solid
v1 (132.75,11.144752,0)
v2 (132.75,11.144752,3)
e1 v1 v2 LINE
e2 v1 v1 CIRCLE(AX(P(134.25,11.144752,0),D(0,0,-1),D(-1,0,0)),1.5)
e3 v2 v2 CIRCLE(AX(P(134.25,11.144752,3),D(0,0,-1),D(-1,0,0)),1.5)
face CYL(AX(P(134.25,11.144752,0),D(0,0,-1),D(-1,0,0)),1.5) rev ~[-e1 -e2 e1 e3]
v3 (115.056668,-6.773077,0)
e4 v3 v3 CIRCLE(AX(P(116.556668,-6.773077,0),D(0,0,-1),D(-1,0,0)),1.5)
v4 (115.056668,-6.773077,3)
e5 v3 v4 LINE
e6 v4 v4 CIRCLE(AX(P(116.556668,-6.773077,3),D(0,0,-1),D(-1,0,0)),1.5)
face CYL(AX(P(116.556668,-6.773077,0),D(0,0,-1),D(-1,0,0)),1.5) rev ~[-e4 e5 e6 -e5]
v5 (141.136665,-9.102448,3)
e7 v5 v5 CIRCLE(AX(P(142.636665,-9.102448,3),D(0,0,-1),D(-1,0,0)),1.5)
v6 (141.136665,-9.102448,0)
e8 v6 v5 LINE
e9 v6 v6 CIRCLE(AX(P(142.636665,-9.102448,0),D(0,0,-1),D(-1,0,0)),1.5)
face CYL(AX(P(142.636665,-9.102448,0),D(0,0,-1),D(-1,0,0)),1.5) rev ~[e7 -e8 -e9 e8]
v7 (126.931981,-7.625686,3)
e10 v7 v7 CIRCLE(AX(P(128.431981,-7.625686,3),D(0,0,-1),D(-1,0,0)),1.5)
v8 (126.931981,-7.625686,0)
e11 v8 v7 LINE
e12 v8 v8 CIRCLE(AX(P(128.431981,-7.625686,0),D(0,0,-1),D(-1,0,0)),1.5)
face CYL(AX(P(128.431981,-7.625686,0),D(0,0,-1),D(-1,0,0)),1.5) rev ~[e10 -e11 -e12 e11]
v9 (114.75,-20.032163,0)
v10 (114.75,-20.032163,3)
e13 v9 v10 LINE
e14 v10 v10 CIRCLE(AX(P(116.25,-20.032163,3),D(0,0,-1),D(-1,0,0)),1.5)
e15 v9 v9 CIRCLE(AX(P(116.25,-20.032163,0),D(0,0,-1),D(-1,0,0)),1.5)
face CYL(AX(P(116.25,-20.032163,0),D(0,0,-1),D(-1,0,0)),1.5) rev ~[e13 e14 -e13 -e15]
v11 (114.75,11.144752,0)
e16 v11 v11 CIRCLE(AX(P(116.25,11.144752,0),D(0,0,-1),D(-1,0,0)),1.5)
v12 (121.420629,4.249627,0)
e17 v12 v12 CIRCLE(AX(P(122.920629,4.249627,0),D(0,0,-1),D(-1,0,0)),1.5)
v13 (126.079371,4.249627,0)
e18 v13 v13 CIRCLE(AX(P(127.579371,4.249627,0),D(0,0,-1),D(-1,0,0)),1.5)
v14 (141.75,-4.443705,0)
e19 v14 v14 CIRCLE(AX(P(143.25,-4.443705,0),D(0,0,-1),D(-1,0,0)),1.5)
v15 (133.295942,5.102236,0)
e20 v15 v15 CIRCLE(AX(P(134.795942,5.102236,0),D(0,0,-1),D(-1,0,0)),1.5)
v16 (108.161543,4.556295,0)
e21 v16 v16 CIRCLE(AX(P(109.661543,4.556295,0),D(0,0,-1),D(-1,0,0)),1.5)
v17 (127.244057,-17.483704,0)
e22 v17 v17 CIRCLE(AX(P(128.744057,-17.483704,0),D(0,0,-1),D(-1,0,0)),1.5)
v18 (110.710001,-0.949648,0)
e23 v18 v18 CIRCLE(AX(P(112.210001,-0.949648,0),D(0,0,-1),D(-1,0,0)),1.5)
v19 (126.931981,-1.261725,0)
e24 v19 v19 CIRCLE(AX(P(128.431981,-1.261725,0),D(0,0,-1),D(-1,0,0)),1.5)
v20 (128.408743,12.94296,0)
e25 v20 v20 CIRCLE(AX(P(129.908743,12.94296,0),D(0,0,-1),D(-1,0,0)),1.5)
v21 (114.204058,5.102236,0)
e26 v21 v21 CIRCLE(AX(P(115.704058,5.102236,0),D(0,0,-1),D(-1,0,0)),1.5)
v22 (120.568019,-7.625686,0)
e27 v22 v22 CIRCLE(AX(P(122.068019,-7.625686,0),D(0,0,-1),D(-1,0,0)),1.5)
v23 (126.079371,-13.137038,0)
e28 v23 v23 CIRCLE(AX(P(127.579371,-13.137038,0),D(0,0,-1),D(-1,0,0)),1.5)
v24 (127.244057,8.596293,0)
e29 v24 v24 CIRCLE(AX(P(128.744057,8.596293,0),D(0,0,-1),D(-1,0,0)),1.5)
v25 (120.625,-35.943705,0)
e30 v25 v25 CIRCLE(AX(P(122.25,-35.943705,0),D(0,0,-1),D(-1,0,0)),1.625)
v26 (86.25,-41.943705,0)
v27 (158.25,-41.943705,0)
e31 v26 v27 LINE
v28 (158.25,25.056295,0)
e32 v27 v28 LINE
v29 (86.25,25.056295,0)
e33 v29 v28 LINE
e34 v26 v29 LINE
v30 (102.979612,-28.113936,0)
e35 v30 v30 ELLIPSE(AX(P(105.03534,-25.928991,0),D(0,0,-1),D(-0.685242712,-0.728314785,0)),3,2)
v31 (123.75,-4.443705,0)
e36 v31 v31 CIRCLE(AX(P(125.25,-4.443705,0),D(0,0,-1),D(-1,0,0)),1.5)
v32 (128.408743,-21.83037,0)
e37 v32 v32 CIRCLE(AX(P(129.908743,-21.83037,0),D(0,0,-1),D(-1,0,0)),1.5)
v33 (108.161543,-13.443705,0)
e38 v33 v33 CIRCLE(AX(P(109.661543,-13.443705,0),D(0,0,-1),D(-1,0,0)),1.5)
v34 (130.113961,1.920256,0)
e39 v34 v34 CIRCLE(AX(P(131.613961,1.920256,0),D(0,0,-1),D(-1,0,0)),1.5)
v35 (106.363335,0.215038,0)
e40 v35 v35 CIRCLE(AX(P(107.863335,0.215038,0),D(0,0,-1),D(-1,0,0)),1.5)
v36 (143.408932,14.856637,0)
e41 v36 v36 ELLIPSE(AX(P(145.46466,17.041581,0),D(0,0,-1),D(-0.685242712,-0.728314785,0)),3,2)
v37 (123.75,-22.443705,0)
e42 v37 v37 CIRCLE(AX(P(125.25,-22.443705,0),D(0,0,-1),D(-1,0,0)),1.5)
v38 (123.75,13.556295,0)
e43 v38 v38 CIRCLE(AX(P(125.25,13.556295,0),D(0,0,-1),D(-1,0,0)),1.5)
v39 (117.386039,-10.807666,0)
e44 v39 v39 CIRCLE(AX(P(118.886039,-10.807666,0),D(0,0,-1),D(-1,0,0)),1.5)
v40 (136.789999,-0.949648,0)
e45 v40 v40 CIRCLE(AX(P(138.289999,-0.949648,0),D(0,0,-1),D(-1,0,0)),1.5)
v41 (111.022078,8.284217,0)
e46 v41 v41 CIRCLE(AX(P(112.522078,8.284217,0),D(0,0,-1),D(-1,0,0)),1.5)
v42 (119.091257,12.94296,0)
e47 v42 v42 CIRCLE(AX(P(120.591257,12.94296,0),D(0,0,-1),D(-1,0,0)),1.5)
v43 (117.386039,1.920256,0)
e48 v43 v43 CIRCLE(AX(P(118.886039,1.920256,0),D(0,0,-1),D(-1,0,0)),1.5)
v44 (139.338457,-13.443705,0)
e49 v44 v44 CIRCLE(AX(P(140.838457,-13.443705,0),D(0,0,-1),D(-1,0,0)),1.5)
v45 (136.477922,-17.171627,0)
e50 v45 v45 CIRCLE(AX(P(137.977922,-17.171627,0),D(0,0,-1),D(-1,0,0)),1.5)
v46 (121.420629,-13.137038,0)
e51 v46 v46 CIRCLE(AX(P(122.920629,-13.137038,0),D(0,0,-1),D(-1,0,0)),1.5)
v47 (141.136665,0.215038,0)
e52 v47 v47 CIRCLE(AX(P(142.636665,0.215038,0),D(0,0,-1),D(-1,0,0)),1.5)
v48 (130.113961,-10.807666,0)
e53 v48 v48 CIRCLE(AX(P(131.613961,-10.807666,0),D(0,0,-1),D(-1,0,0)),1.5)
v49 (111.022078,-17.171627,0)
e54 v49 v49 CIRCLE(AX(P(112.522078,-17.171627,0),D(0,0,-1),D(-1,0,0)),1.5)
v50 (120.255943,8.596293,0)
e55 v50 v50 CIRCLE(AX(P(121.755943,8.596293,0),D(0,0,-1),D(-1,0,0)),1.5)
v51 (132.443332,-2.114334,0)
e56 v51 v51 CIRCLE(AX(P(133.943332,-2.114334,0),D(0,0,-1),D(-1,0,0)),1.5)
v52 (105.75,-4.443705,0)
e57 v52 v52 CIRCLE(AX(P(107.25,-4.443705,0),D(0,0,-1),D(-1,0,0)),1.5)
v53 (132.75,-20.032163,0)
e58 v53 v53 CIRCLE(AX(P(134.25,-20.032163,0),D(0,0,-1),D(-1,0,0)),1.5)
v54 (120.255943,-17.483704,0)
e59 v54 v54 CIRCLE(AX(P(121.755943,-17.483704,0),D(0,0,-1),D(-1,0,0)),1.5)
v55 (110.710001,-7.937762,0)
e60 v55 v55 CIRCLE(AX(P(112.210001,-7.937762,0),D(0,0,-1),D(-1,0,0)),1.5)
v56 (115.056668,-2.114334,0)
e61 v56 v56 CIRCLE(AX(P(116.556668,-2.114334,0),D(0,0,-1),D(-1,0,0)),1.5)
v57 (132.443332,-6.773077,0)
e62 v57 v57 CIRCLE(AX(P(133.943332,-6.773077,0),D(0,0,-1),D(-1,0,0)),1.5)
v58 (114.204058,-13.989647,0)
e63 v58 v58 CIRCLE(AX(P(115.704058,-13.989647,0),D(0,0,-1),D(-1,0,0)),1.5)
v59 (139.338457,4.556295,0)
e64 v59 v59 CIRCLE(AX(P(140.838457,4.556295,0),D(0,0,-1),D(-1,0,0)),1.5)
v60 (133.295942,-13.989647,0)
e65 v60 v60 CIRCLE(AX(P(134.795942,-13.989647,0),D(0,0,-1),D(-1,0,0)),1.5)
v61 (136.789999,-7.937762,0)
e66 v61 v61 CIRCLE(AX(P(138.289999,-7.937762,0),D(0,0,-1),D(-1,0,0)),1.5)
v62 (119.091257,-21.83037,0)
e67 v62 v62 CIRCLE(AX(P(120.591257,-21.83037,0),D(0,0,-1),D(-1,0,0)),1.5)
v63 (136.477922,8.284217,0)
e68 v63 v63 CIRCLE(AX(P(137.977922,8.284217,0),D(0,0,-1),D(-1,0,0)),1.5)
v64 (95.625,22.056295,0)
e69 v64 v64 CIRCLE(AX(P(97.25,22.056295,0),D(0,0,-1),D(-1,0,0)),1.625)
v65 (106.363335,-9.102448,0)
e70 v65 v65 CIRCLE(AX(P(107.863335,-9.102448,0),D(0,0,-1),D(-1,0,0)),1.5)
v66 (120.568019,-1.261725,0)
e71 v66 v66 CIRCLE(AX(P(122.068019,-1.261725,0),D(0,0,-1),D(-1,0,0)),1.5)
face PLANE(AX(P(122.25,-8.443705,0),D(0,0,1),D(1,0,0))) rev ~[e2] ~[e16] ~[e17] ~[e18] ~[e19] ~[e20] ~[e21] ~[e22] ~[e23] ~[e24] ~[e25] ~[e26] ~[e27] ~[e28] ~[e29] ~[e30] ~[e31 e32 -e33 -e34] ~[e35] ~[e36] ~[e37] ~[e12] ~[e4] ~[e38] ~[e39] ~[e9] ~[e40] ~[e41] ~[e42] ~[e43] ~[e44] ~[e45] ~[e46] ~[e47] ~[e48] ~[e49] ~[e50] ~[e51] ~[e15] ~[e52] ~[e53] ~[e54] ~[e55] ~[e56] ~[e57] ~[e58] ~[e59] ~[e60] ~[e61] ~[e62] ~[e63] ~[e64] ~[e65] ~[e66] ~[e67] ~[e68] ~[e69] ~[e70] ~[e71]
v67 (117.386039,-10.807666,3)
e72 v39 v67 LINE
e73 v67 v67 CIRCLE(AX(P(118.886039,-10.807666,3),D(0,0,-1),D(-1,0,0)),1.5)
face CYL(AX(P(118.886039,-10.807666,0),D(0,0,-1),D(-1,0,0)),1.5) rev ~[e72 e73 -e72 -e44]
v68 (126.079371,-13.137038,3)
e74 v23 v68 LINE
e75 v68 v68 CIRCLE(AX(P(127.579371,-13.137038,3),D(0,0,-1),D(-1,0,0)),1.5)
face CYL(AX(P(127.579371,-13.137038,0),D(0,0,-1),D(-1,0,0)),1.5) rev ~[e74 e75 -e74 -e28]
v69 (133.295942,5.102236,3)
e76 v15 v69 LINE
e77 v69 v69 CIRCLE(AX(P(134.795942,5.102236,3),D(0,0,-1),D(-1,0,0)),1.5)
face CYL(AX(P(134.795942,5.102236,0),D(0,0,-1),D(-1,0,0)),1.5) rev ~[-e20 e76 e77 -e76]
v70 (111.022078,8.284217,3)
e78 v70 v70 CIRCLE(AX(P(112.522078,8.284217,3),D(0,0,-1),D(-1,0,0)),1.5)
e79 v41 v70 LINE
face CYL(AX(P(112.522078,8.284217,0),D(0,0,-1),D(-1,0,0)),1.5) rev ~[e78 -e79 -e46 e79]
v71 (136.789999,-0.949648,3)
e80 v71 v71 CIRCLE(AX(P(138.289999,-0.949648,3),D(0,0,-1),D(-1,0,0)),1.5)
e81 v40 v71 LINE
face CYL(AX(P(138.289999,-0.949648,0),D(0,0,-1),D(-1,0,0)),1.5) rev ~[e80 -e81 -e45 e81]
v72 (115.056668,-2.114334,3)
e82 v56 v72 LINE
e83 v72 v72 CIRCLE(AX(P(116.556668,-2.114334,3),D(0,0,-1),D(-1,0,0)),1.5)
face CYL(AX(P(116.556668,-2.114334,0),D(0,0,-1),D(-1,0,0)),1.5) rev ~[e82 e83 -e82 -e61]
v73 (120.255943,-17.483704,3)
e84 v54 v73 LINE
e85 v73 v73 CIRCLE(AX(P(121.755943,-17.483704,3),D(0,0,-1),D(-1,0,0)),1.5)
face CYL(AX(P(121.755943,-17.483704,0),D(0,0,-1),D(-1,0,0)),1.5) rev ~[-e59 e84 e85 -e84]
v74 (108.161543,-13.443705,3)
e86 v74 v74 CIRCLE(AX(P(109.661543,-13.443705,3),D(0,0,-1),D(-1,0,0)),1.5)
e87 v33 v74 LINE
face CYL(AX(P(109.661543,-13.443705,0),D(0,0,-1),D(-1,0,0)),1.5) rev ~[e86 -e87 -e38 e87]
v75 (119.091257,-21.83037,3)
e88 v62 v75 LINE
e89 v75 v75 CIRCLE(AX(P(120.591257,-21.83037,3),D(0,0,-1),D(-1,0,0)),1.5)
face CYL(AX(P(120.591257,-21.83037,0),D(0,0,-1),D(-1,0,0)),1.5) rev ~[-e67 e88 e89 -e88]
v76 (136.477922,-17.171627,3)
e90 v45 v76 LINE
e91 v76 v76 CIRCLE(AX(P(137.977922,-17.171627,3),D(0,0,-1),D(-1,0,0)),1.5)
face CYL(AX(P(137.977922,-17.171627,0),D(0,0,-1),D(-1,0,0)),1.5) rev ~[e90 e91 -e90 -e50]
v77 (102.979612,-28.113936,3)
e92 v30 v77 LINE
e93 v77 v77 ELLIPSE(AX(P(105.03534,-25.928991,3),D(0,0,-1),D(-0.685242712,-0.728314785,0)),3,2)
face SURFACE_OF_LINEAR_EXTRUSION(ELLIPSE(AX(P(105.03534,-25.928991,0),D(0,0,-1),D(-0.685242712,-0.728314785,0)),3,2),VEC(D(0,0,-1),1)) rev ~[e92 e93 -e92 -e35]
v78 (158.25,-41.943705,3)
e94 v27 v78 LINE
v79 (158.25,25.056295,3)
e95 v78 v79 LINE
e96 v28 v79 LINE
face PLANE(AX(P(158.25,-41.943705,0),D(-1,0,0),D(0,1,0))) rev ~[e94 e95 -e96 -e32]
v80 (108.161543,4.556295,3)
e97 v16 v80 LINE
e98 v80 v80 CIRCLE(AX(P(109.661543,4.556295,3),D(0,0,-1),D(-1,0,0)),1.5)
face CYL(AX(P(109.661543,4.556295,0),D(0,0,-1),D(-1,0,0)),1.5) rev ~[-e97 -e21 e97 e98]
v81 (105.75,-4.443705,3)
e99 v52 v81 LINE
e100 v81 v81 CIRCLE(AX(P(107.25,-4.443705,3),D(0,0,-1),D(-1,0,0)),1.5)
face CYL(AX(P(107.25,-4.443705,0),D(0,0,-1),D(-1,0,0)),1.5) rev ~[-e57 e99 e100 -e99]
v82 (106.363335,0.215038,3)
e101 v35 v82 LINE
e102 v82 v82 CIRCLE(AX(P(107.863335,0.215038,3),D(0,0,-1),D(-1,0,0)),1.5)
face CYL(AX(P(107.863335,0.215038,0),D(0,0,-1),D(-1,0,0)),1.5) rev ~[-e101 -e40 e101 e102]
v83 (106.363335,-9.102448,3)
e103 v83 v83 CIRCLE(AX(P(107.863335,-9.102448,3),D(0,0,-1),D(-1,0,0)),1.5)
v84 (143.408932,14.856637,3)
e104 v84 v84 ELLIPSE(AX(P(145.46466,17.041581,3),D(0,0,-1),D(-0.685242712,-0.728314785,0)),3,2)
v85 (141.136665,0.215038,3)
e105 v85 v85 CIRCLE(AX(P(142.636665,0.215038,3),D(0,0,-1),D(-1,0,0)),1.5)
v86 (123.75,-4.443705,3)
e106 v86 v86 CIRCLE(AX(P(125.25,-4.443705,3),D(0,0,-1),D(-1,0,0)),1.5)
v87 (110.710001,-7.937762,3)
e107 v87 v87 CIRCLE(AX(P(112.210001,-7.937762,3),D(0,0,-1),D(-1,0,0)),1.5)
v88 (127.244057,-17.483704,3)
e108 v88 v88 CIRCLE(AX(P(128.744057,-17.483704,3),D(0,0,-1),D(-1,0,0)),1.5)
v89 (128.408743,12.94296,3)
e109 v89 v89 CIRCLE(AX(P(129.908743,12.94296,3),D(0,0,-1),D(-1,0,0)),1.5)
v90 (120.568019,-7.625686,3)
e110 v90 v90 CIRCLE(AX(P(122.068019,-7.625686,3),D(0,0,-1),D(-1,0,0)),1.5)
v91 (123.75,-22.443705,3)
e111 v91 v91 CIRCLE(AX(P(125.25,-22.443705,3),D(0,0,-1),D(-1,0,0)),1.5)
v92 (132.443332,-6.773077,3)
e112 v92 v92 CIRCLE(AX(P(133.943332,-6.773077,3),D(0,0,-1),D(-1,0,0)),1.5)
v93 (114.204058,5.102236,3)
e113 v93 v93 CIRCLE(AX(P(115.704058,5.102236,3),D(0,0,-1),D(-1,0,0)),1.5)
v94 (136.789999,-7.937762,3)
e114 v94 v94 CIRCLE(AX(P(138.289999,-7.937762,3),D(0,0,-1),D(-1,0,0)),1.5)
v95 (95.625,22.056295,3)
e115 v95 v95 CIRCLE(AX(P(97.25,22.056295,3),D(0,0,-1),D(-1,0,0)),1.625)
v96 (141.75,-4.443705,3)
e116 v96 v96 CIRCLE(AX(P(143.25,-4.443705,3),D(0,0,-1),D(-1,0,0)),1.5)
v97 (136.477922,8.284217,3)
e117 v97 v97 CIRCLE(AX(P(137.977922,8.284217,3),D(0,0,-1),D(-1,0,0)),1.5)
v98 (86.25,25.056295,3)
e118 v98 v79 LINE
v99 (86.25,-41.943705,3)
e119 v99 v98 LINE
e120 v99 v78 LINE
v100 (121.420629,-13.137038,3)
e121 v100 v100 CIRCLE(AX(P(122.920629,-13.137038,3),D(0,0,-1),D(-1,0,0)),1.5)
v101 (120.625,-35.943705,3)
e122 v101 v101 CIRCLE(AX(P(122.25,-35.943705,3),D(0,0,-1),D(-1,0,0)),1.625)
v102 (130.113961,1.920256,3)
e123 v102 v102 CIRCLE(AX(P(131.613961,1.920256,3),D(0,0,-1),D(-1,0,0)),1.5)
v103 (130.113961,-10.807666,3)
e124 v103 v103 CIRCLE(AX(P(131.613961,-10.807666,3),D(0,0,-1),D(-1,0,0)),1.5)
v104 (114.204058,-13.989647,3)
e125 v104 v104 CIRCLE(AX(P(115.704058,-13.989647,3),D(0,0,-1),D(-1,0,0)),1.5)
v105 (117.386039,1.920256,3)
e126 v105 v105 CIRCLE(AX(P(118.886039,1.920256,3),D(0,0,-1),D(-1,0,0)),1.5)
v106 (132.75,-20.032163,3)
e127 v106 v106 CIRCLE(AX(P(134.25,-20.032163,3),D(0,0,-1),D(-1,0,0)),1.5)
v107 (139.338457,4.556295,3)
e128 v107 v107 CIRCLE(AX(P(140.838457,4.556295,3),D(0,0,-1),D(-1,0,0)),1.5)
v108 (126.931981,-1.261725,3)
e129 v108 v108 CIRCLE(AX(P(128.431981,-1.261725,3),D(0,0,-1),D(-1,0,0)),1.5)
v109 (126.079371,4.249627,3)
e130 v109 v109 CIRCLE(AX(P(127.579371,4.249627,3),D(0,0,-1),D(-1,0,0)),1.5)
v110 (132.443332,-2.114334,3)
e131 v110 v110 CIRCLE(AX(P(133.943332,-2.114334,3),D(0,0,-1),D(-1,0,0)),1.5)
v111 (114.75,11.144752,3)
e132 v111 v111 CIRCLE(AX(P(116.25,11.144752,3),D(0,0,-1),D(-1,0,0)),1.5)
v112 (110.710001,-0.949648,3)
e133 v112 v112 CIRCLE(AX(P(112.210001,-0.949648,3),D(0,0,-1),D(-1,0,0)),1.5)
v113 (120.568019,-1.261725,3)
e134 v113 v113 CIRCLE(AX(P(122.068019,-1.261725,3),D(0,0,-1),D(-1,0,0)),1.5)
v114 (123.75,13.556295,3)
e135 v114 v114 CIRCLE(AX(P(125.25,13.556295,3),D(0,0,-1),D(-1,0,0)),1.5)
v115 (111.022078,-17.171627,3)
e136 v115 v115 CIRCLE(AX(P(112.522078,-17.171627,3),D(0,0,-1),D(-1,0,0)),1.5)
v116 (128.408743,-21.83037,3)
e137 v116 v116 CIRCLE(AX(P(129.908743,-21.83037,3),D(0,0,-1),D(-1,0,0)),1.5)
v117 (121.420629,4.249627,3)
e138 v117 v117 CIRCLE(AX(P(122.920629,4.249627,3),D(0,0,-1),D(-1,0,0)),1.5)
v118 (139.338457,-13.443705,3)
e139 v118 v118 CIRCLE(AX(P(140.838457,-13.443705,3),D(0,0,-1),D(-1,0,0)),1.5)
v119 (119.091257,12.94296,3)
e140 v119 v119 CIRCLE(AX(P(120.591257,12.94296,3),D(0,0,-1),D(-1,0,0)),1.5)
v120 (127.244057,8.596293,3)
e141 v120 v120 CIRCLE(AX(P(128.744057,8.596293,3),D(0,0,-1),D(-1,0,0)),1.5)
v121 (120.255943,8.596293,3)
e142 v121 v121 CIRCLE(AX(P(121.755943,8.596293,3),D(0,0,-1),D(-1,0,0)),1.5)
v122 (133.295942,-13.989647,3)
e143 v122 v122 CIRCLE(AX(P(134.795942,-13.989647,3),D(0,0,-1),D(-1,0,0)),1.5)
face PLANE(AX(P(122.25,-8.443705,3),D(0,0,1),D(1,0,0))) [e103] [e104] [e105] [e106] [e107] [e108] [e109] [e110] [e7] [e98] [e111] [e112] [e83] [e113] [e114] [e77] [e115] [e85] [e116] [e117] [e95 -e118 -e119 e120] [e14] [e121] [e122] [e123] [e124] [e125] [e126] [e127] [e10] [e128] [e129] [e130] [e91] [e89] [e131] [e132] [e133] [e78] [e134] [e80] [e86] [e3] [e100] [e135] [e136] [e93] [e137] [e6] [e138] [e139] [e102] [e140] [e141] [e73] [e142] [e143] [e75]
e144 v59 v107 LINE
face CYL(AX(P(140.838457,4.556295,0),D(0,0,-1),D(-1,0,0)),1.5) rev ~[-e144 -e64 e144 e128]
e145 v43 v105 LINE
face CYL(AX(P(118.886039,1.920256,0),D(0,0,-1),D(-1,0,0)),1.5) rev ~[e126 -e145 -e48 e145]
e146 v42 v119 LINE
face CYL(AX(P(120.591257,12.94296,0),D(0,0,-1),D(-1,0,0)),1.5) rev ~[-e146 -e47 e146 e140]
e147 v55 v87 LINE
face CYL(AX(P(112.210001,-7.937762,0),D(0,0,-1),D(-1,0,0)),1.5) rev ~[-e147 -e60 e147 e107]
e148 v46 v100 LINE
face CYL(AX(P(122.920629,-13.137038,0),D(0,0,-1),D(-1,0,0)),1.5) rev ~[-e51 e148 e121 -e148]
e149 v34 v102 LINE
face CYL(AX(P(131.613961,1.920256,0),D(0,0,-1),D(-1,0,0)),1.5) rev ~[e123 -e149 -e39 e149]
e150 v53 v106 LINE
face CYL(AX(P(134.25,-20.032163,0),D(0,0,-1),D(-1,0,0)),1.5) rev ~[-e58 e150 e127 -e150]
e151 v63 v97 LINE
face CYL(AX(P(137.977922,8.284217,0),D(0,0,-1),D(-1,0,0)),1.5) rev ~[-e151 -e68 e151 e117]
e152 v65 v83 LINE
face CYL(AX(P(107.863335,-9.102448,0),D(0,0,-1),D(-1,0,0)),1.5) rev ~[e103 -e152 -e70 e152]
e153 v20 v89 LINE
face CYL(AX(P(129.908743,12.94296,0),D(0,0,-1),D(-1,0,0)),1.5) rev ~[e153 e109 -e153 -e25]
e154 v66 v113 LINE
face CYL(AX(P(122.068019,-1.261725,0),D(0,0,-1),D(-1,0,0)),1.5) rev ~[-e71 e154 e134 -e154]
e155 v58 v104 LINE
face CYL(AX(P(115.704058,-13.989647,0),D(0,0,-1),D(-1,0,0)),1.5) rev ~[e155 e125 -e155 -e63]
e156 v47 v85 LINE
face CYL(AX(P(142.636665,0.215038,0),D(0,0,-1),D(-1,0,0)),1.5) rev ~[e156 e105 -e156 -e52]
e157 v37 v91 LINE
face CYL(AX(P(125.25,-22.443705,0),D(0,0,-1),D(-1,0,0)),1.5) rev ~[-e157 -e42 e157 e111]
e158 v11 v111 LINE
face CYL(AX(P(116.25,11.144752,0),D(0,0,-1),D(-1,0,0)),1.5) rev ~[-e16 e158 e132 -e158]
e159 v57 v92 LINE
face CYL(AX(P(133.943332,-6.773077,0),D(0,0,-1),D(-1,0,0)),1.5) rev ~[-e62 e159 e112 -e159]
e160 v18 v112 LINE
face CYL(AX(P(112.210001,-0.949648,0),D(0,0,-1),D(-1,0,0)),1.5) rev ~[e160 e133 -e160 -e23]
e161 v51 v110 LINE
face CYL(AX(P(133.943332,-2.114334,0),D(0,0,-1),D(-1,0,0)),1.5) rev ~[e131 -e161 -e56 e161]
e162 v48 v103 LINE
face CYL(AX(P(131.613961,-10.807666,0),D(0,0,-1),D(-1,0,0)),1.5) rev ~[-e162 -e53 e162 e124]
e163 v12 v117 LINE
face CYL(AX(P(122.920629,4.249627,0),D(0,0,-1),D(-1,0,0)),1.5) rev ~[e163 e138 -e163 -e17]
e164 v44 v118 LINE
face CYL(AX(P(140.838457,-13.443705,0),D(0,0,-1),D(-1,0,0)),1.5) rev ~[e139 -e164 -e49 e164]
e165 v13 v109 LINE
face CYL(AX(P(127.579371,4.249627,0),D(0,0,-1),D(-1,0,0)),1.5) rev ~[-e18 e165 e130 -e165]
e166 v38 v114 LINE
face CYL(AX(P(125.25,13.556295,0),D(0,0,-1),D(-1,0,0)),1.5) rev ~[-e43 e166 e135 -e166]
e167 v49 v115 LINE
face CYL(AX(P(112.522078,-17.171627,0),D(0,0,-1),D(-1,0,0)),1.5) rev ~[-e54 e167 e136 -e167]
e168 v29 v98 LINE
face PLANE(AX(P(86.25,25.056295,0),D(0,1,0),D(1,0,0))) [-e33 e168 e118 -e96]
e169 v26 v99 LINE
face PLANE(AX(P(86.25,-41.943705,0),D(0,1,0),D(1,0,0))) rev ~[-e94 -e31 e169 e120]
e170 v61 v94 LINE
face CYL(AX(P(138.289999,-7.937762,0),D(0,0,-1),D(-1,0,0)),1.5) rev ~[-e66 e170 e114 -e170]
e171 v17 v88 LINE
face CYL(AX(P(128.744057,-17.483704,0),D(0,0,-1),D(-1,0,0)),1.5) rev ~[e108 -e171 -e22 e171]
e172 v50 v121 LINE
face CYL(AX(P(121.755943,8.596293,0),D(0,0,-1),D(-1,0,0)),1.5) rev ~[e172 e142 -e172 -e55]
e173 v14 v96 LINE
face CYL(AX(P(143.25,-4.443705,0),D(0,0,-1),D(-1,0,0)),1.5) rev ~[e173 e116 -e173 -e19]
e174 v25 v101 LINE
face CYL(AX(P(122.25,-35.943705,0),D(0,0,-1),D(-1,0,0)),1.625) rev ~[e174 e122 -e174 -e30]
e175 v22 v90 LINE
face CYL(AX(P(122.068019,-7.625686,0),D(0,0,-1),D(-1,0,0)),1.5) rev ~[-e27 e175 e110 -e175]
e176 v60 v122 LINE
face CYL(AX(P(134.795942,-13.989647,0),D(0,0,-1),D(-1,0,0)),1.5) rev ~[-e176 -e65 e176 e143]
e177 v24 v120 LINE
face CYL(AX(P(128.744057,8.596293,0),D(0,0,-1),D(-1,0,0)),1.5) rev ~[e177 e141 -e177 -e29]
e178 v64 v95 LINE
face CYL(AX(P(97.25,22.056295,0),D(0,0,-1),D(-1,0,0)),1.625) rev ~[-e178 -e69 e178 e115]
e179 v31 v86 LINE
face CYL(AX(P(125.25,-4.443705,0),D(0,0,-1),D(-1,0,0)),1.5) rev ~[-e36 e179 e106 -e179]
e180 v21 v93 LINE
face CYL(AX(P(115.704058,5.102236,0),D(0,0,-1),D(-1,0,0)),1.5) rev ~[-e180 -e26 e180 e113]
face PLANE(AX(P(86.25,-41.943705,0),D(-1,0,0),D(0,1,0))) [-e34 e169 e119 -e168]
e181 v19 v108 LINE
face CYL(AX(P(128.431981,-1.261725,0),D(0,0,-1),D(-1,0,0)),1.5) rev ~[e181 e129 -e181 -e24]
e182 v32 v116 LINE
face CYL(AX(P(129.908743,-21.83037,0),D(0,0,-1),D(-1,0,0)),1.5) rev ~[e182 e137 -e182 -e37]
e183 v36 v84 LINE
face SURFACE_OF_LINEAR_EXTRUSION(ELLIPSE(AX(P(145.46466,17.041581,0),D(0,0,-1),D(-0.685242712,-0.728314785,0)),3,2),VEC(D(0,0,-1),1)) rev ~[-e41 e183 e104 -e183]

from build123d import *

# Parameters (mm, degrees)
CROQUIS1_W              = 72
CROQUIS1_H              = 67
SALIENTE_EXTRUIR1_DEPTH = 3
CROQUIS3_R              = 1.625
CROQUIS3_R_2            = 1.5
CROQUIS3_RX             = 3
CROQUIS3_RY             = 2
CORTAR_EXTRUIR1_DEPTH   = 3


with BuildPart() as part:
    # Croquis1 → Saliente-Extruir1 (new body)
    with BuildSketch(Plane.XY):
        with Locations((122.25, -8.443705264)):
            Rectangle(CROQUIS1_W, CROQUIS1_H)
    extrude(amount=SALIENTE_EXTRUIR1_DEPTH)

    # Croquis3 → Cortar-Extruir1 (cut)
    with BuildSketch(Plane(origin=(0, 0, 0), x_dir=(-1, 0, 0), z_dir=(0, 0, -1))):
        with Locations((-122.25, -35.943705264)):
            Circle(CROQUIS3_R)
        with Locations((-97.25, 22.056294736)):
            Circle(CROQUIS3_R)
        with Locations((-137.977922061, 8.284216797)):
            Circle(CROQUIS3_R_2)
        with Locations((-129.908742812, 12.942959609)):
            Circle(CROQUIS3_R_2)
        with Locations((-134.25, 11.144752004)):
            Circle(CROQUIS3_R_2)
        with Locations((-128.744057109, 8.596293391)):
            Circle(CROQUIS3_R_2)
        with Locations((-125.25, 13.556294736)):
            Circle(CROQUIS3_R_2)
        with Locations((-120.591257188, 12.942959609)):
            Circle(CROQUIS3_R_2)
        with Locations((-121.755942891, 8.596293391)):
            Circle(CROQUIS3_R_2)
        with Locations((-116.25, 11.144752004)):
            Circle(CROQUIS3_R_2)
        with Locations((-112.522077939, 8.284216797)):
            Circle(CROQUIS3_R_2)
        with Locations((-115.704058454, 5.102236282)):
            Circle(CROQUIS3_R_2)
        with Locations((-109.661542732, 4.556294736)):
            Circle(CROQUIS3_R_2)
        with Locations((-107.25, -4.443705264)):
            Circle(CROQUIS3_R_2)
        with Locations((-107.863335127, 0.215037548)):
            Circle(CROQUIS3_R_2)
        with Locations((-112.210001345, -0.949648155)):
            Circle(CROQUIS3_R_2)
        with Locations((-116.556667563, -2.114333858)):
            Circle(CROQUIS3_R_2)
        with Locations((-118.886038969, 1.920255767)):
            Circle(CROQUIS3_R_2)
        with Locations((-122.068019485, -1.261724749)):
            Circle(CROQUIS3_R_2)
        with Locations((-122.920628594, 4.249627173)):
            Circle(CROQUIS3_R_2)
        with Locations((-127.579371406, 4.249627173)):
            Circle(CROQUIS3_R_2)
        with Locations((-131.613961031, 1.920255767)):
            Circle(CROQUIS3_R_2)
        with Locations((-128.431980515, -1.261724749)):
            Circle(CROQUIS3_R_2)
        with Locations((-134.795941546, 5.102236282)):
            Circle(CROQUIS3_R_2)
        with Locations((-140.838457268, 4.556294736)):
            Circle(CROQUIS3_R_2)
        with Locations((-143.25, -4.443705264)):
            Circle(CROQUIS3_R_2)
        with Locations((-142.636664873, 0.215037548)):
            Circle(CROQUIS3_R_2)
        with Locations((-138.289998655, -0.949648155)):
            Circle(CROQUIS3_R_2)
        with Locations((-133.943332437, -2.114333858)):
            Circle(CROQUIS3_R_2)
        with Locations((-133.943332437, -6.77307667)):
            Circle(CROQUIS3_R_2)
        with Locations((-125.25, -4.443705264)):
            Circle(CROQUIS3_R_2)
        with Locations((-128.431980515, -7.625685779)):
            Circle(CROQUIS3_R_2)
        with Locations((-122.068019485, -7.625685779)):
            Circle(CROQUIS3_R_2)
        with Locations((-116.556667563, -6.77307667)):
            Circle(CROQUIS3_R_2)
        with Locations((-107.863335127, -9.102448076)):
            Circle(CROQUIS3_R_2)
        with Locations((-112.210001345, -7.937762373)):
            Circle(CROQUIS3_R_2)
        with Locations((-109.661542732, -13.443705264)):
            Circle(CROQUIS3_R_2)
        with Locations((-112.522077939, -17.171627325)):
            Circle(CROQUIS3_R_2)
        with Locations((-118.886038969, -10.807666295)):
            Circle(CROQUIS3_R_2)
        with Locations((-127.579371406, -13.137037701)):
            Circle(CROQUIS3_R_2)
        with Locations((-122.920628594, -13.137037701)):
            Circle(CROQUIS3_R_2)
        with Locations((-115.704058454, -13.98964681)):
            Circle(CROQUIS3_R_2)
        with Locations((-121.755942891, -17.483703919)):
            Circle(CROQUIS3_R_2)
        with Locations((-116.25, -20.032162532)):
            Circle(CROQUIS3_R_2)
        with Locations((-120.591257188, -21.830370137)):
            Circle(CROQUIS3_R_2)
        with Locations((-125.25, -22.443705264)):
            Circle(CROQUIS3_R_2)
        with Locations((-128.744057109, -17.483703919)):
            Circle(CROQUIS3_R_2)
        with Locations((-131.613961031, -10.807666295)):
            Circle(CROQUIS3_R_2)
        with Locations((-134.795941546, -13.98964681)):
            Circle(CROQUIS3_R_2)
        with Locations((-138.289998655, -7.937762373)):
            Circle(CROQUIS3_R_2)
        with Locations((-142.636664873, -9.102448076)):
            Circle(CROQUIS3_R_2)
        with Locations((-140.838457268, -13.443705264)):
            Circle(CROQUIS3_R_2)
        with Locations((-137.977922061, -17.171627325)):
            Circle(CROQUIS3_R_2)
        with Locations((-134.25, -20.032162532)):
            Circle(CROQUIS3_R_2)
        with Locations((-129.908742812, -21.830370137)):
            Circle(CROQUIS3_R_2)
        with Locations(Location((-145.464659991, 17.041580897), (0, 0, -46.745301972))):
            Ellipse(CROQUIS3_RX, CROQUIS3_RY)
        with Locations(Location((-105.035340009, -25.928991425), (0, 0, -46.745301972))):
            Ellipse(CROQUIS3_RX, CROQUIS3_RY)
    extrude(amount=-CORTAR_EXTRUIR1_DEPTH, mode=Mode.SUBTRACT)


solid = part.part
